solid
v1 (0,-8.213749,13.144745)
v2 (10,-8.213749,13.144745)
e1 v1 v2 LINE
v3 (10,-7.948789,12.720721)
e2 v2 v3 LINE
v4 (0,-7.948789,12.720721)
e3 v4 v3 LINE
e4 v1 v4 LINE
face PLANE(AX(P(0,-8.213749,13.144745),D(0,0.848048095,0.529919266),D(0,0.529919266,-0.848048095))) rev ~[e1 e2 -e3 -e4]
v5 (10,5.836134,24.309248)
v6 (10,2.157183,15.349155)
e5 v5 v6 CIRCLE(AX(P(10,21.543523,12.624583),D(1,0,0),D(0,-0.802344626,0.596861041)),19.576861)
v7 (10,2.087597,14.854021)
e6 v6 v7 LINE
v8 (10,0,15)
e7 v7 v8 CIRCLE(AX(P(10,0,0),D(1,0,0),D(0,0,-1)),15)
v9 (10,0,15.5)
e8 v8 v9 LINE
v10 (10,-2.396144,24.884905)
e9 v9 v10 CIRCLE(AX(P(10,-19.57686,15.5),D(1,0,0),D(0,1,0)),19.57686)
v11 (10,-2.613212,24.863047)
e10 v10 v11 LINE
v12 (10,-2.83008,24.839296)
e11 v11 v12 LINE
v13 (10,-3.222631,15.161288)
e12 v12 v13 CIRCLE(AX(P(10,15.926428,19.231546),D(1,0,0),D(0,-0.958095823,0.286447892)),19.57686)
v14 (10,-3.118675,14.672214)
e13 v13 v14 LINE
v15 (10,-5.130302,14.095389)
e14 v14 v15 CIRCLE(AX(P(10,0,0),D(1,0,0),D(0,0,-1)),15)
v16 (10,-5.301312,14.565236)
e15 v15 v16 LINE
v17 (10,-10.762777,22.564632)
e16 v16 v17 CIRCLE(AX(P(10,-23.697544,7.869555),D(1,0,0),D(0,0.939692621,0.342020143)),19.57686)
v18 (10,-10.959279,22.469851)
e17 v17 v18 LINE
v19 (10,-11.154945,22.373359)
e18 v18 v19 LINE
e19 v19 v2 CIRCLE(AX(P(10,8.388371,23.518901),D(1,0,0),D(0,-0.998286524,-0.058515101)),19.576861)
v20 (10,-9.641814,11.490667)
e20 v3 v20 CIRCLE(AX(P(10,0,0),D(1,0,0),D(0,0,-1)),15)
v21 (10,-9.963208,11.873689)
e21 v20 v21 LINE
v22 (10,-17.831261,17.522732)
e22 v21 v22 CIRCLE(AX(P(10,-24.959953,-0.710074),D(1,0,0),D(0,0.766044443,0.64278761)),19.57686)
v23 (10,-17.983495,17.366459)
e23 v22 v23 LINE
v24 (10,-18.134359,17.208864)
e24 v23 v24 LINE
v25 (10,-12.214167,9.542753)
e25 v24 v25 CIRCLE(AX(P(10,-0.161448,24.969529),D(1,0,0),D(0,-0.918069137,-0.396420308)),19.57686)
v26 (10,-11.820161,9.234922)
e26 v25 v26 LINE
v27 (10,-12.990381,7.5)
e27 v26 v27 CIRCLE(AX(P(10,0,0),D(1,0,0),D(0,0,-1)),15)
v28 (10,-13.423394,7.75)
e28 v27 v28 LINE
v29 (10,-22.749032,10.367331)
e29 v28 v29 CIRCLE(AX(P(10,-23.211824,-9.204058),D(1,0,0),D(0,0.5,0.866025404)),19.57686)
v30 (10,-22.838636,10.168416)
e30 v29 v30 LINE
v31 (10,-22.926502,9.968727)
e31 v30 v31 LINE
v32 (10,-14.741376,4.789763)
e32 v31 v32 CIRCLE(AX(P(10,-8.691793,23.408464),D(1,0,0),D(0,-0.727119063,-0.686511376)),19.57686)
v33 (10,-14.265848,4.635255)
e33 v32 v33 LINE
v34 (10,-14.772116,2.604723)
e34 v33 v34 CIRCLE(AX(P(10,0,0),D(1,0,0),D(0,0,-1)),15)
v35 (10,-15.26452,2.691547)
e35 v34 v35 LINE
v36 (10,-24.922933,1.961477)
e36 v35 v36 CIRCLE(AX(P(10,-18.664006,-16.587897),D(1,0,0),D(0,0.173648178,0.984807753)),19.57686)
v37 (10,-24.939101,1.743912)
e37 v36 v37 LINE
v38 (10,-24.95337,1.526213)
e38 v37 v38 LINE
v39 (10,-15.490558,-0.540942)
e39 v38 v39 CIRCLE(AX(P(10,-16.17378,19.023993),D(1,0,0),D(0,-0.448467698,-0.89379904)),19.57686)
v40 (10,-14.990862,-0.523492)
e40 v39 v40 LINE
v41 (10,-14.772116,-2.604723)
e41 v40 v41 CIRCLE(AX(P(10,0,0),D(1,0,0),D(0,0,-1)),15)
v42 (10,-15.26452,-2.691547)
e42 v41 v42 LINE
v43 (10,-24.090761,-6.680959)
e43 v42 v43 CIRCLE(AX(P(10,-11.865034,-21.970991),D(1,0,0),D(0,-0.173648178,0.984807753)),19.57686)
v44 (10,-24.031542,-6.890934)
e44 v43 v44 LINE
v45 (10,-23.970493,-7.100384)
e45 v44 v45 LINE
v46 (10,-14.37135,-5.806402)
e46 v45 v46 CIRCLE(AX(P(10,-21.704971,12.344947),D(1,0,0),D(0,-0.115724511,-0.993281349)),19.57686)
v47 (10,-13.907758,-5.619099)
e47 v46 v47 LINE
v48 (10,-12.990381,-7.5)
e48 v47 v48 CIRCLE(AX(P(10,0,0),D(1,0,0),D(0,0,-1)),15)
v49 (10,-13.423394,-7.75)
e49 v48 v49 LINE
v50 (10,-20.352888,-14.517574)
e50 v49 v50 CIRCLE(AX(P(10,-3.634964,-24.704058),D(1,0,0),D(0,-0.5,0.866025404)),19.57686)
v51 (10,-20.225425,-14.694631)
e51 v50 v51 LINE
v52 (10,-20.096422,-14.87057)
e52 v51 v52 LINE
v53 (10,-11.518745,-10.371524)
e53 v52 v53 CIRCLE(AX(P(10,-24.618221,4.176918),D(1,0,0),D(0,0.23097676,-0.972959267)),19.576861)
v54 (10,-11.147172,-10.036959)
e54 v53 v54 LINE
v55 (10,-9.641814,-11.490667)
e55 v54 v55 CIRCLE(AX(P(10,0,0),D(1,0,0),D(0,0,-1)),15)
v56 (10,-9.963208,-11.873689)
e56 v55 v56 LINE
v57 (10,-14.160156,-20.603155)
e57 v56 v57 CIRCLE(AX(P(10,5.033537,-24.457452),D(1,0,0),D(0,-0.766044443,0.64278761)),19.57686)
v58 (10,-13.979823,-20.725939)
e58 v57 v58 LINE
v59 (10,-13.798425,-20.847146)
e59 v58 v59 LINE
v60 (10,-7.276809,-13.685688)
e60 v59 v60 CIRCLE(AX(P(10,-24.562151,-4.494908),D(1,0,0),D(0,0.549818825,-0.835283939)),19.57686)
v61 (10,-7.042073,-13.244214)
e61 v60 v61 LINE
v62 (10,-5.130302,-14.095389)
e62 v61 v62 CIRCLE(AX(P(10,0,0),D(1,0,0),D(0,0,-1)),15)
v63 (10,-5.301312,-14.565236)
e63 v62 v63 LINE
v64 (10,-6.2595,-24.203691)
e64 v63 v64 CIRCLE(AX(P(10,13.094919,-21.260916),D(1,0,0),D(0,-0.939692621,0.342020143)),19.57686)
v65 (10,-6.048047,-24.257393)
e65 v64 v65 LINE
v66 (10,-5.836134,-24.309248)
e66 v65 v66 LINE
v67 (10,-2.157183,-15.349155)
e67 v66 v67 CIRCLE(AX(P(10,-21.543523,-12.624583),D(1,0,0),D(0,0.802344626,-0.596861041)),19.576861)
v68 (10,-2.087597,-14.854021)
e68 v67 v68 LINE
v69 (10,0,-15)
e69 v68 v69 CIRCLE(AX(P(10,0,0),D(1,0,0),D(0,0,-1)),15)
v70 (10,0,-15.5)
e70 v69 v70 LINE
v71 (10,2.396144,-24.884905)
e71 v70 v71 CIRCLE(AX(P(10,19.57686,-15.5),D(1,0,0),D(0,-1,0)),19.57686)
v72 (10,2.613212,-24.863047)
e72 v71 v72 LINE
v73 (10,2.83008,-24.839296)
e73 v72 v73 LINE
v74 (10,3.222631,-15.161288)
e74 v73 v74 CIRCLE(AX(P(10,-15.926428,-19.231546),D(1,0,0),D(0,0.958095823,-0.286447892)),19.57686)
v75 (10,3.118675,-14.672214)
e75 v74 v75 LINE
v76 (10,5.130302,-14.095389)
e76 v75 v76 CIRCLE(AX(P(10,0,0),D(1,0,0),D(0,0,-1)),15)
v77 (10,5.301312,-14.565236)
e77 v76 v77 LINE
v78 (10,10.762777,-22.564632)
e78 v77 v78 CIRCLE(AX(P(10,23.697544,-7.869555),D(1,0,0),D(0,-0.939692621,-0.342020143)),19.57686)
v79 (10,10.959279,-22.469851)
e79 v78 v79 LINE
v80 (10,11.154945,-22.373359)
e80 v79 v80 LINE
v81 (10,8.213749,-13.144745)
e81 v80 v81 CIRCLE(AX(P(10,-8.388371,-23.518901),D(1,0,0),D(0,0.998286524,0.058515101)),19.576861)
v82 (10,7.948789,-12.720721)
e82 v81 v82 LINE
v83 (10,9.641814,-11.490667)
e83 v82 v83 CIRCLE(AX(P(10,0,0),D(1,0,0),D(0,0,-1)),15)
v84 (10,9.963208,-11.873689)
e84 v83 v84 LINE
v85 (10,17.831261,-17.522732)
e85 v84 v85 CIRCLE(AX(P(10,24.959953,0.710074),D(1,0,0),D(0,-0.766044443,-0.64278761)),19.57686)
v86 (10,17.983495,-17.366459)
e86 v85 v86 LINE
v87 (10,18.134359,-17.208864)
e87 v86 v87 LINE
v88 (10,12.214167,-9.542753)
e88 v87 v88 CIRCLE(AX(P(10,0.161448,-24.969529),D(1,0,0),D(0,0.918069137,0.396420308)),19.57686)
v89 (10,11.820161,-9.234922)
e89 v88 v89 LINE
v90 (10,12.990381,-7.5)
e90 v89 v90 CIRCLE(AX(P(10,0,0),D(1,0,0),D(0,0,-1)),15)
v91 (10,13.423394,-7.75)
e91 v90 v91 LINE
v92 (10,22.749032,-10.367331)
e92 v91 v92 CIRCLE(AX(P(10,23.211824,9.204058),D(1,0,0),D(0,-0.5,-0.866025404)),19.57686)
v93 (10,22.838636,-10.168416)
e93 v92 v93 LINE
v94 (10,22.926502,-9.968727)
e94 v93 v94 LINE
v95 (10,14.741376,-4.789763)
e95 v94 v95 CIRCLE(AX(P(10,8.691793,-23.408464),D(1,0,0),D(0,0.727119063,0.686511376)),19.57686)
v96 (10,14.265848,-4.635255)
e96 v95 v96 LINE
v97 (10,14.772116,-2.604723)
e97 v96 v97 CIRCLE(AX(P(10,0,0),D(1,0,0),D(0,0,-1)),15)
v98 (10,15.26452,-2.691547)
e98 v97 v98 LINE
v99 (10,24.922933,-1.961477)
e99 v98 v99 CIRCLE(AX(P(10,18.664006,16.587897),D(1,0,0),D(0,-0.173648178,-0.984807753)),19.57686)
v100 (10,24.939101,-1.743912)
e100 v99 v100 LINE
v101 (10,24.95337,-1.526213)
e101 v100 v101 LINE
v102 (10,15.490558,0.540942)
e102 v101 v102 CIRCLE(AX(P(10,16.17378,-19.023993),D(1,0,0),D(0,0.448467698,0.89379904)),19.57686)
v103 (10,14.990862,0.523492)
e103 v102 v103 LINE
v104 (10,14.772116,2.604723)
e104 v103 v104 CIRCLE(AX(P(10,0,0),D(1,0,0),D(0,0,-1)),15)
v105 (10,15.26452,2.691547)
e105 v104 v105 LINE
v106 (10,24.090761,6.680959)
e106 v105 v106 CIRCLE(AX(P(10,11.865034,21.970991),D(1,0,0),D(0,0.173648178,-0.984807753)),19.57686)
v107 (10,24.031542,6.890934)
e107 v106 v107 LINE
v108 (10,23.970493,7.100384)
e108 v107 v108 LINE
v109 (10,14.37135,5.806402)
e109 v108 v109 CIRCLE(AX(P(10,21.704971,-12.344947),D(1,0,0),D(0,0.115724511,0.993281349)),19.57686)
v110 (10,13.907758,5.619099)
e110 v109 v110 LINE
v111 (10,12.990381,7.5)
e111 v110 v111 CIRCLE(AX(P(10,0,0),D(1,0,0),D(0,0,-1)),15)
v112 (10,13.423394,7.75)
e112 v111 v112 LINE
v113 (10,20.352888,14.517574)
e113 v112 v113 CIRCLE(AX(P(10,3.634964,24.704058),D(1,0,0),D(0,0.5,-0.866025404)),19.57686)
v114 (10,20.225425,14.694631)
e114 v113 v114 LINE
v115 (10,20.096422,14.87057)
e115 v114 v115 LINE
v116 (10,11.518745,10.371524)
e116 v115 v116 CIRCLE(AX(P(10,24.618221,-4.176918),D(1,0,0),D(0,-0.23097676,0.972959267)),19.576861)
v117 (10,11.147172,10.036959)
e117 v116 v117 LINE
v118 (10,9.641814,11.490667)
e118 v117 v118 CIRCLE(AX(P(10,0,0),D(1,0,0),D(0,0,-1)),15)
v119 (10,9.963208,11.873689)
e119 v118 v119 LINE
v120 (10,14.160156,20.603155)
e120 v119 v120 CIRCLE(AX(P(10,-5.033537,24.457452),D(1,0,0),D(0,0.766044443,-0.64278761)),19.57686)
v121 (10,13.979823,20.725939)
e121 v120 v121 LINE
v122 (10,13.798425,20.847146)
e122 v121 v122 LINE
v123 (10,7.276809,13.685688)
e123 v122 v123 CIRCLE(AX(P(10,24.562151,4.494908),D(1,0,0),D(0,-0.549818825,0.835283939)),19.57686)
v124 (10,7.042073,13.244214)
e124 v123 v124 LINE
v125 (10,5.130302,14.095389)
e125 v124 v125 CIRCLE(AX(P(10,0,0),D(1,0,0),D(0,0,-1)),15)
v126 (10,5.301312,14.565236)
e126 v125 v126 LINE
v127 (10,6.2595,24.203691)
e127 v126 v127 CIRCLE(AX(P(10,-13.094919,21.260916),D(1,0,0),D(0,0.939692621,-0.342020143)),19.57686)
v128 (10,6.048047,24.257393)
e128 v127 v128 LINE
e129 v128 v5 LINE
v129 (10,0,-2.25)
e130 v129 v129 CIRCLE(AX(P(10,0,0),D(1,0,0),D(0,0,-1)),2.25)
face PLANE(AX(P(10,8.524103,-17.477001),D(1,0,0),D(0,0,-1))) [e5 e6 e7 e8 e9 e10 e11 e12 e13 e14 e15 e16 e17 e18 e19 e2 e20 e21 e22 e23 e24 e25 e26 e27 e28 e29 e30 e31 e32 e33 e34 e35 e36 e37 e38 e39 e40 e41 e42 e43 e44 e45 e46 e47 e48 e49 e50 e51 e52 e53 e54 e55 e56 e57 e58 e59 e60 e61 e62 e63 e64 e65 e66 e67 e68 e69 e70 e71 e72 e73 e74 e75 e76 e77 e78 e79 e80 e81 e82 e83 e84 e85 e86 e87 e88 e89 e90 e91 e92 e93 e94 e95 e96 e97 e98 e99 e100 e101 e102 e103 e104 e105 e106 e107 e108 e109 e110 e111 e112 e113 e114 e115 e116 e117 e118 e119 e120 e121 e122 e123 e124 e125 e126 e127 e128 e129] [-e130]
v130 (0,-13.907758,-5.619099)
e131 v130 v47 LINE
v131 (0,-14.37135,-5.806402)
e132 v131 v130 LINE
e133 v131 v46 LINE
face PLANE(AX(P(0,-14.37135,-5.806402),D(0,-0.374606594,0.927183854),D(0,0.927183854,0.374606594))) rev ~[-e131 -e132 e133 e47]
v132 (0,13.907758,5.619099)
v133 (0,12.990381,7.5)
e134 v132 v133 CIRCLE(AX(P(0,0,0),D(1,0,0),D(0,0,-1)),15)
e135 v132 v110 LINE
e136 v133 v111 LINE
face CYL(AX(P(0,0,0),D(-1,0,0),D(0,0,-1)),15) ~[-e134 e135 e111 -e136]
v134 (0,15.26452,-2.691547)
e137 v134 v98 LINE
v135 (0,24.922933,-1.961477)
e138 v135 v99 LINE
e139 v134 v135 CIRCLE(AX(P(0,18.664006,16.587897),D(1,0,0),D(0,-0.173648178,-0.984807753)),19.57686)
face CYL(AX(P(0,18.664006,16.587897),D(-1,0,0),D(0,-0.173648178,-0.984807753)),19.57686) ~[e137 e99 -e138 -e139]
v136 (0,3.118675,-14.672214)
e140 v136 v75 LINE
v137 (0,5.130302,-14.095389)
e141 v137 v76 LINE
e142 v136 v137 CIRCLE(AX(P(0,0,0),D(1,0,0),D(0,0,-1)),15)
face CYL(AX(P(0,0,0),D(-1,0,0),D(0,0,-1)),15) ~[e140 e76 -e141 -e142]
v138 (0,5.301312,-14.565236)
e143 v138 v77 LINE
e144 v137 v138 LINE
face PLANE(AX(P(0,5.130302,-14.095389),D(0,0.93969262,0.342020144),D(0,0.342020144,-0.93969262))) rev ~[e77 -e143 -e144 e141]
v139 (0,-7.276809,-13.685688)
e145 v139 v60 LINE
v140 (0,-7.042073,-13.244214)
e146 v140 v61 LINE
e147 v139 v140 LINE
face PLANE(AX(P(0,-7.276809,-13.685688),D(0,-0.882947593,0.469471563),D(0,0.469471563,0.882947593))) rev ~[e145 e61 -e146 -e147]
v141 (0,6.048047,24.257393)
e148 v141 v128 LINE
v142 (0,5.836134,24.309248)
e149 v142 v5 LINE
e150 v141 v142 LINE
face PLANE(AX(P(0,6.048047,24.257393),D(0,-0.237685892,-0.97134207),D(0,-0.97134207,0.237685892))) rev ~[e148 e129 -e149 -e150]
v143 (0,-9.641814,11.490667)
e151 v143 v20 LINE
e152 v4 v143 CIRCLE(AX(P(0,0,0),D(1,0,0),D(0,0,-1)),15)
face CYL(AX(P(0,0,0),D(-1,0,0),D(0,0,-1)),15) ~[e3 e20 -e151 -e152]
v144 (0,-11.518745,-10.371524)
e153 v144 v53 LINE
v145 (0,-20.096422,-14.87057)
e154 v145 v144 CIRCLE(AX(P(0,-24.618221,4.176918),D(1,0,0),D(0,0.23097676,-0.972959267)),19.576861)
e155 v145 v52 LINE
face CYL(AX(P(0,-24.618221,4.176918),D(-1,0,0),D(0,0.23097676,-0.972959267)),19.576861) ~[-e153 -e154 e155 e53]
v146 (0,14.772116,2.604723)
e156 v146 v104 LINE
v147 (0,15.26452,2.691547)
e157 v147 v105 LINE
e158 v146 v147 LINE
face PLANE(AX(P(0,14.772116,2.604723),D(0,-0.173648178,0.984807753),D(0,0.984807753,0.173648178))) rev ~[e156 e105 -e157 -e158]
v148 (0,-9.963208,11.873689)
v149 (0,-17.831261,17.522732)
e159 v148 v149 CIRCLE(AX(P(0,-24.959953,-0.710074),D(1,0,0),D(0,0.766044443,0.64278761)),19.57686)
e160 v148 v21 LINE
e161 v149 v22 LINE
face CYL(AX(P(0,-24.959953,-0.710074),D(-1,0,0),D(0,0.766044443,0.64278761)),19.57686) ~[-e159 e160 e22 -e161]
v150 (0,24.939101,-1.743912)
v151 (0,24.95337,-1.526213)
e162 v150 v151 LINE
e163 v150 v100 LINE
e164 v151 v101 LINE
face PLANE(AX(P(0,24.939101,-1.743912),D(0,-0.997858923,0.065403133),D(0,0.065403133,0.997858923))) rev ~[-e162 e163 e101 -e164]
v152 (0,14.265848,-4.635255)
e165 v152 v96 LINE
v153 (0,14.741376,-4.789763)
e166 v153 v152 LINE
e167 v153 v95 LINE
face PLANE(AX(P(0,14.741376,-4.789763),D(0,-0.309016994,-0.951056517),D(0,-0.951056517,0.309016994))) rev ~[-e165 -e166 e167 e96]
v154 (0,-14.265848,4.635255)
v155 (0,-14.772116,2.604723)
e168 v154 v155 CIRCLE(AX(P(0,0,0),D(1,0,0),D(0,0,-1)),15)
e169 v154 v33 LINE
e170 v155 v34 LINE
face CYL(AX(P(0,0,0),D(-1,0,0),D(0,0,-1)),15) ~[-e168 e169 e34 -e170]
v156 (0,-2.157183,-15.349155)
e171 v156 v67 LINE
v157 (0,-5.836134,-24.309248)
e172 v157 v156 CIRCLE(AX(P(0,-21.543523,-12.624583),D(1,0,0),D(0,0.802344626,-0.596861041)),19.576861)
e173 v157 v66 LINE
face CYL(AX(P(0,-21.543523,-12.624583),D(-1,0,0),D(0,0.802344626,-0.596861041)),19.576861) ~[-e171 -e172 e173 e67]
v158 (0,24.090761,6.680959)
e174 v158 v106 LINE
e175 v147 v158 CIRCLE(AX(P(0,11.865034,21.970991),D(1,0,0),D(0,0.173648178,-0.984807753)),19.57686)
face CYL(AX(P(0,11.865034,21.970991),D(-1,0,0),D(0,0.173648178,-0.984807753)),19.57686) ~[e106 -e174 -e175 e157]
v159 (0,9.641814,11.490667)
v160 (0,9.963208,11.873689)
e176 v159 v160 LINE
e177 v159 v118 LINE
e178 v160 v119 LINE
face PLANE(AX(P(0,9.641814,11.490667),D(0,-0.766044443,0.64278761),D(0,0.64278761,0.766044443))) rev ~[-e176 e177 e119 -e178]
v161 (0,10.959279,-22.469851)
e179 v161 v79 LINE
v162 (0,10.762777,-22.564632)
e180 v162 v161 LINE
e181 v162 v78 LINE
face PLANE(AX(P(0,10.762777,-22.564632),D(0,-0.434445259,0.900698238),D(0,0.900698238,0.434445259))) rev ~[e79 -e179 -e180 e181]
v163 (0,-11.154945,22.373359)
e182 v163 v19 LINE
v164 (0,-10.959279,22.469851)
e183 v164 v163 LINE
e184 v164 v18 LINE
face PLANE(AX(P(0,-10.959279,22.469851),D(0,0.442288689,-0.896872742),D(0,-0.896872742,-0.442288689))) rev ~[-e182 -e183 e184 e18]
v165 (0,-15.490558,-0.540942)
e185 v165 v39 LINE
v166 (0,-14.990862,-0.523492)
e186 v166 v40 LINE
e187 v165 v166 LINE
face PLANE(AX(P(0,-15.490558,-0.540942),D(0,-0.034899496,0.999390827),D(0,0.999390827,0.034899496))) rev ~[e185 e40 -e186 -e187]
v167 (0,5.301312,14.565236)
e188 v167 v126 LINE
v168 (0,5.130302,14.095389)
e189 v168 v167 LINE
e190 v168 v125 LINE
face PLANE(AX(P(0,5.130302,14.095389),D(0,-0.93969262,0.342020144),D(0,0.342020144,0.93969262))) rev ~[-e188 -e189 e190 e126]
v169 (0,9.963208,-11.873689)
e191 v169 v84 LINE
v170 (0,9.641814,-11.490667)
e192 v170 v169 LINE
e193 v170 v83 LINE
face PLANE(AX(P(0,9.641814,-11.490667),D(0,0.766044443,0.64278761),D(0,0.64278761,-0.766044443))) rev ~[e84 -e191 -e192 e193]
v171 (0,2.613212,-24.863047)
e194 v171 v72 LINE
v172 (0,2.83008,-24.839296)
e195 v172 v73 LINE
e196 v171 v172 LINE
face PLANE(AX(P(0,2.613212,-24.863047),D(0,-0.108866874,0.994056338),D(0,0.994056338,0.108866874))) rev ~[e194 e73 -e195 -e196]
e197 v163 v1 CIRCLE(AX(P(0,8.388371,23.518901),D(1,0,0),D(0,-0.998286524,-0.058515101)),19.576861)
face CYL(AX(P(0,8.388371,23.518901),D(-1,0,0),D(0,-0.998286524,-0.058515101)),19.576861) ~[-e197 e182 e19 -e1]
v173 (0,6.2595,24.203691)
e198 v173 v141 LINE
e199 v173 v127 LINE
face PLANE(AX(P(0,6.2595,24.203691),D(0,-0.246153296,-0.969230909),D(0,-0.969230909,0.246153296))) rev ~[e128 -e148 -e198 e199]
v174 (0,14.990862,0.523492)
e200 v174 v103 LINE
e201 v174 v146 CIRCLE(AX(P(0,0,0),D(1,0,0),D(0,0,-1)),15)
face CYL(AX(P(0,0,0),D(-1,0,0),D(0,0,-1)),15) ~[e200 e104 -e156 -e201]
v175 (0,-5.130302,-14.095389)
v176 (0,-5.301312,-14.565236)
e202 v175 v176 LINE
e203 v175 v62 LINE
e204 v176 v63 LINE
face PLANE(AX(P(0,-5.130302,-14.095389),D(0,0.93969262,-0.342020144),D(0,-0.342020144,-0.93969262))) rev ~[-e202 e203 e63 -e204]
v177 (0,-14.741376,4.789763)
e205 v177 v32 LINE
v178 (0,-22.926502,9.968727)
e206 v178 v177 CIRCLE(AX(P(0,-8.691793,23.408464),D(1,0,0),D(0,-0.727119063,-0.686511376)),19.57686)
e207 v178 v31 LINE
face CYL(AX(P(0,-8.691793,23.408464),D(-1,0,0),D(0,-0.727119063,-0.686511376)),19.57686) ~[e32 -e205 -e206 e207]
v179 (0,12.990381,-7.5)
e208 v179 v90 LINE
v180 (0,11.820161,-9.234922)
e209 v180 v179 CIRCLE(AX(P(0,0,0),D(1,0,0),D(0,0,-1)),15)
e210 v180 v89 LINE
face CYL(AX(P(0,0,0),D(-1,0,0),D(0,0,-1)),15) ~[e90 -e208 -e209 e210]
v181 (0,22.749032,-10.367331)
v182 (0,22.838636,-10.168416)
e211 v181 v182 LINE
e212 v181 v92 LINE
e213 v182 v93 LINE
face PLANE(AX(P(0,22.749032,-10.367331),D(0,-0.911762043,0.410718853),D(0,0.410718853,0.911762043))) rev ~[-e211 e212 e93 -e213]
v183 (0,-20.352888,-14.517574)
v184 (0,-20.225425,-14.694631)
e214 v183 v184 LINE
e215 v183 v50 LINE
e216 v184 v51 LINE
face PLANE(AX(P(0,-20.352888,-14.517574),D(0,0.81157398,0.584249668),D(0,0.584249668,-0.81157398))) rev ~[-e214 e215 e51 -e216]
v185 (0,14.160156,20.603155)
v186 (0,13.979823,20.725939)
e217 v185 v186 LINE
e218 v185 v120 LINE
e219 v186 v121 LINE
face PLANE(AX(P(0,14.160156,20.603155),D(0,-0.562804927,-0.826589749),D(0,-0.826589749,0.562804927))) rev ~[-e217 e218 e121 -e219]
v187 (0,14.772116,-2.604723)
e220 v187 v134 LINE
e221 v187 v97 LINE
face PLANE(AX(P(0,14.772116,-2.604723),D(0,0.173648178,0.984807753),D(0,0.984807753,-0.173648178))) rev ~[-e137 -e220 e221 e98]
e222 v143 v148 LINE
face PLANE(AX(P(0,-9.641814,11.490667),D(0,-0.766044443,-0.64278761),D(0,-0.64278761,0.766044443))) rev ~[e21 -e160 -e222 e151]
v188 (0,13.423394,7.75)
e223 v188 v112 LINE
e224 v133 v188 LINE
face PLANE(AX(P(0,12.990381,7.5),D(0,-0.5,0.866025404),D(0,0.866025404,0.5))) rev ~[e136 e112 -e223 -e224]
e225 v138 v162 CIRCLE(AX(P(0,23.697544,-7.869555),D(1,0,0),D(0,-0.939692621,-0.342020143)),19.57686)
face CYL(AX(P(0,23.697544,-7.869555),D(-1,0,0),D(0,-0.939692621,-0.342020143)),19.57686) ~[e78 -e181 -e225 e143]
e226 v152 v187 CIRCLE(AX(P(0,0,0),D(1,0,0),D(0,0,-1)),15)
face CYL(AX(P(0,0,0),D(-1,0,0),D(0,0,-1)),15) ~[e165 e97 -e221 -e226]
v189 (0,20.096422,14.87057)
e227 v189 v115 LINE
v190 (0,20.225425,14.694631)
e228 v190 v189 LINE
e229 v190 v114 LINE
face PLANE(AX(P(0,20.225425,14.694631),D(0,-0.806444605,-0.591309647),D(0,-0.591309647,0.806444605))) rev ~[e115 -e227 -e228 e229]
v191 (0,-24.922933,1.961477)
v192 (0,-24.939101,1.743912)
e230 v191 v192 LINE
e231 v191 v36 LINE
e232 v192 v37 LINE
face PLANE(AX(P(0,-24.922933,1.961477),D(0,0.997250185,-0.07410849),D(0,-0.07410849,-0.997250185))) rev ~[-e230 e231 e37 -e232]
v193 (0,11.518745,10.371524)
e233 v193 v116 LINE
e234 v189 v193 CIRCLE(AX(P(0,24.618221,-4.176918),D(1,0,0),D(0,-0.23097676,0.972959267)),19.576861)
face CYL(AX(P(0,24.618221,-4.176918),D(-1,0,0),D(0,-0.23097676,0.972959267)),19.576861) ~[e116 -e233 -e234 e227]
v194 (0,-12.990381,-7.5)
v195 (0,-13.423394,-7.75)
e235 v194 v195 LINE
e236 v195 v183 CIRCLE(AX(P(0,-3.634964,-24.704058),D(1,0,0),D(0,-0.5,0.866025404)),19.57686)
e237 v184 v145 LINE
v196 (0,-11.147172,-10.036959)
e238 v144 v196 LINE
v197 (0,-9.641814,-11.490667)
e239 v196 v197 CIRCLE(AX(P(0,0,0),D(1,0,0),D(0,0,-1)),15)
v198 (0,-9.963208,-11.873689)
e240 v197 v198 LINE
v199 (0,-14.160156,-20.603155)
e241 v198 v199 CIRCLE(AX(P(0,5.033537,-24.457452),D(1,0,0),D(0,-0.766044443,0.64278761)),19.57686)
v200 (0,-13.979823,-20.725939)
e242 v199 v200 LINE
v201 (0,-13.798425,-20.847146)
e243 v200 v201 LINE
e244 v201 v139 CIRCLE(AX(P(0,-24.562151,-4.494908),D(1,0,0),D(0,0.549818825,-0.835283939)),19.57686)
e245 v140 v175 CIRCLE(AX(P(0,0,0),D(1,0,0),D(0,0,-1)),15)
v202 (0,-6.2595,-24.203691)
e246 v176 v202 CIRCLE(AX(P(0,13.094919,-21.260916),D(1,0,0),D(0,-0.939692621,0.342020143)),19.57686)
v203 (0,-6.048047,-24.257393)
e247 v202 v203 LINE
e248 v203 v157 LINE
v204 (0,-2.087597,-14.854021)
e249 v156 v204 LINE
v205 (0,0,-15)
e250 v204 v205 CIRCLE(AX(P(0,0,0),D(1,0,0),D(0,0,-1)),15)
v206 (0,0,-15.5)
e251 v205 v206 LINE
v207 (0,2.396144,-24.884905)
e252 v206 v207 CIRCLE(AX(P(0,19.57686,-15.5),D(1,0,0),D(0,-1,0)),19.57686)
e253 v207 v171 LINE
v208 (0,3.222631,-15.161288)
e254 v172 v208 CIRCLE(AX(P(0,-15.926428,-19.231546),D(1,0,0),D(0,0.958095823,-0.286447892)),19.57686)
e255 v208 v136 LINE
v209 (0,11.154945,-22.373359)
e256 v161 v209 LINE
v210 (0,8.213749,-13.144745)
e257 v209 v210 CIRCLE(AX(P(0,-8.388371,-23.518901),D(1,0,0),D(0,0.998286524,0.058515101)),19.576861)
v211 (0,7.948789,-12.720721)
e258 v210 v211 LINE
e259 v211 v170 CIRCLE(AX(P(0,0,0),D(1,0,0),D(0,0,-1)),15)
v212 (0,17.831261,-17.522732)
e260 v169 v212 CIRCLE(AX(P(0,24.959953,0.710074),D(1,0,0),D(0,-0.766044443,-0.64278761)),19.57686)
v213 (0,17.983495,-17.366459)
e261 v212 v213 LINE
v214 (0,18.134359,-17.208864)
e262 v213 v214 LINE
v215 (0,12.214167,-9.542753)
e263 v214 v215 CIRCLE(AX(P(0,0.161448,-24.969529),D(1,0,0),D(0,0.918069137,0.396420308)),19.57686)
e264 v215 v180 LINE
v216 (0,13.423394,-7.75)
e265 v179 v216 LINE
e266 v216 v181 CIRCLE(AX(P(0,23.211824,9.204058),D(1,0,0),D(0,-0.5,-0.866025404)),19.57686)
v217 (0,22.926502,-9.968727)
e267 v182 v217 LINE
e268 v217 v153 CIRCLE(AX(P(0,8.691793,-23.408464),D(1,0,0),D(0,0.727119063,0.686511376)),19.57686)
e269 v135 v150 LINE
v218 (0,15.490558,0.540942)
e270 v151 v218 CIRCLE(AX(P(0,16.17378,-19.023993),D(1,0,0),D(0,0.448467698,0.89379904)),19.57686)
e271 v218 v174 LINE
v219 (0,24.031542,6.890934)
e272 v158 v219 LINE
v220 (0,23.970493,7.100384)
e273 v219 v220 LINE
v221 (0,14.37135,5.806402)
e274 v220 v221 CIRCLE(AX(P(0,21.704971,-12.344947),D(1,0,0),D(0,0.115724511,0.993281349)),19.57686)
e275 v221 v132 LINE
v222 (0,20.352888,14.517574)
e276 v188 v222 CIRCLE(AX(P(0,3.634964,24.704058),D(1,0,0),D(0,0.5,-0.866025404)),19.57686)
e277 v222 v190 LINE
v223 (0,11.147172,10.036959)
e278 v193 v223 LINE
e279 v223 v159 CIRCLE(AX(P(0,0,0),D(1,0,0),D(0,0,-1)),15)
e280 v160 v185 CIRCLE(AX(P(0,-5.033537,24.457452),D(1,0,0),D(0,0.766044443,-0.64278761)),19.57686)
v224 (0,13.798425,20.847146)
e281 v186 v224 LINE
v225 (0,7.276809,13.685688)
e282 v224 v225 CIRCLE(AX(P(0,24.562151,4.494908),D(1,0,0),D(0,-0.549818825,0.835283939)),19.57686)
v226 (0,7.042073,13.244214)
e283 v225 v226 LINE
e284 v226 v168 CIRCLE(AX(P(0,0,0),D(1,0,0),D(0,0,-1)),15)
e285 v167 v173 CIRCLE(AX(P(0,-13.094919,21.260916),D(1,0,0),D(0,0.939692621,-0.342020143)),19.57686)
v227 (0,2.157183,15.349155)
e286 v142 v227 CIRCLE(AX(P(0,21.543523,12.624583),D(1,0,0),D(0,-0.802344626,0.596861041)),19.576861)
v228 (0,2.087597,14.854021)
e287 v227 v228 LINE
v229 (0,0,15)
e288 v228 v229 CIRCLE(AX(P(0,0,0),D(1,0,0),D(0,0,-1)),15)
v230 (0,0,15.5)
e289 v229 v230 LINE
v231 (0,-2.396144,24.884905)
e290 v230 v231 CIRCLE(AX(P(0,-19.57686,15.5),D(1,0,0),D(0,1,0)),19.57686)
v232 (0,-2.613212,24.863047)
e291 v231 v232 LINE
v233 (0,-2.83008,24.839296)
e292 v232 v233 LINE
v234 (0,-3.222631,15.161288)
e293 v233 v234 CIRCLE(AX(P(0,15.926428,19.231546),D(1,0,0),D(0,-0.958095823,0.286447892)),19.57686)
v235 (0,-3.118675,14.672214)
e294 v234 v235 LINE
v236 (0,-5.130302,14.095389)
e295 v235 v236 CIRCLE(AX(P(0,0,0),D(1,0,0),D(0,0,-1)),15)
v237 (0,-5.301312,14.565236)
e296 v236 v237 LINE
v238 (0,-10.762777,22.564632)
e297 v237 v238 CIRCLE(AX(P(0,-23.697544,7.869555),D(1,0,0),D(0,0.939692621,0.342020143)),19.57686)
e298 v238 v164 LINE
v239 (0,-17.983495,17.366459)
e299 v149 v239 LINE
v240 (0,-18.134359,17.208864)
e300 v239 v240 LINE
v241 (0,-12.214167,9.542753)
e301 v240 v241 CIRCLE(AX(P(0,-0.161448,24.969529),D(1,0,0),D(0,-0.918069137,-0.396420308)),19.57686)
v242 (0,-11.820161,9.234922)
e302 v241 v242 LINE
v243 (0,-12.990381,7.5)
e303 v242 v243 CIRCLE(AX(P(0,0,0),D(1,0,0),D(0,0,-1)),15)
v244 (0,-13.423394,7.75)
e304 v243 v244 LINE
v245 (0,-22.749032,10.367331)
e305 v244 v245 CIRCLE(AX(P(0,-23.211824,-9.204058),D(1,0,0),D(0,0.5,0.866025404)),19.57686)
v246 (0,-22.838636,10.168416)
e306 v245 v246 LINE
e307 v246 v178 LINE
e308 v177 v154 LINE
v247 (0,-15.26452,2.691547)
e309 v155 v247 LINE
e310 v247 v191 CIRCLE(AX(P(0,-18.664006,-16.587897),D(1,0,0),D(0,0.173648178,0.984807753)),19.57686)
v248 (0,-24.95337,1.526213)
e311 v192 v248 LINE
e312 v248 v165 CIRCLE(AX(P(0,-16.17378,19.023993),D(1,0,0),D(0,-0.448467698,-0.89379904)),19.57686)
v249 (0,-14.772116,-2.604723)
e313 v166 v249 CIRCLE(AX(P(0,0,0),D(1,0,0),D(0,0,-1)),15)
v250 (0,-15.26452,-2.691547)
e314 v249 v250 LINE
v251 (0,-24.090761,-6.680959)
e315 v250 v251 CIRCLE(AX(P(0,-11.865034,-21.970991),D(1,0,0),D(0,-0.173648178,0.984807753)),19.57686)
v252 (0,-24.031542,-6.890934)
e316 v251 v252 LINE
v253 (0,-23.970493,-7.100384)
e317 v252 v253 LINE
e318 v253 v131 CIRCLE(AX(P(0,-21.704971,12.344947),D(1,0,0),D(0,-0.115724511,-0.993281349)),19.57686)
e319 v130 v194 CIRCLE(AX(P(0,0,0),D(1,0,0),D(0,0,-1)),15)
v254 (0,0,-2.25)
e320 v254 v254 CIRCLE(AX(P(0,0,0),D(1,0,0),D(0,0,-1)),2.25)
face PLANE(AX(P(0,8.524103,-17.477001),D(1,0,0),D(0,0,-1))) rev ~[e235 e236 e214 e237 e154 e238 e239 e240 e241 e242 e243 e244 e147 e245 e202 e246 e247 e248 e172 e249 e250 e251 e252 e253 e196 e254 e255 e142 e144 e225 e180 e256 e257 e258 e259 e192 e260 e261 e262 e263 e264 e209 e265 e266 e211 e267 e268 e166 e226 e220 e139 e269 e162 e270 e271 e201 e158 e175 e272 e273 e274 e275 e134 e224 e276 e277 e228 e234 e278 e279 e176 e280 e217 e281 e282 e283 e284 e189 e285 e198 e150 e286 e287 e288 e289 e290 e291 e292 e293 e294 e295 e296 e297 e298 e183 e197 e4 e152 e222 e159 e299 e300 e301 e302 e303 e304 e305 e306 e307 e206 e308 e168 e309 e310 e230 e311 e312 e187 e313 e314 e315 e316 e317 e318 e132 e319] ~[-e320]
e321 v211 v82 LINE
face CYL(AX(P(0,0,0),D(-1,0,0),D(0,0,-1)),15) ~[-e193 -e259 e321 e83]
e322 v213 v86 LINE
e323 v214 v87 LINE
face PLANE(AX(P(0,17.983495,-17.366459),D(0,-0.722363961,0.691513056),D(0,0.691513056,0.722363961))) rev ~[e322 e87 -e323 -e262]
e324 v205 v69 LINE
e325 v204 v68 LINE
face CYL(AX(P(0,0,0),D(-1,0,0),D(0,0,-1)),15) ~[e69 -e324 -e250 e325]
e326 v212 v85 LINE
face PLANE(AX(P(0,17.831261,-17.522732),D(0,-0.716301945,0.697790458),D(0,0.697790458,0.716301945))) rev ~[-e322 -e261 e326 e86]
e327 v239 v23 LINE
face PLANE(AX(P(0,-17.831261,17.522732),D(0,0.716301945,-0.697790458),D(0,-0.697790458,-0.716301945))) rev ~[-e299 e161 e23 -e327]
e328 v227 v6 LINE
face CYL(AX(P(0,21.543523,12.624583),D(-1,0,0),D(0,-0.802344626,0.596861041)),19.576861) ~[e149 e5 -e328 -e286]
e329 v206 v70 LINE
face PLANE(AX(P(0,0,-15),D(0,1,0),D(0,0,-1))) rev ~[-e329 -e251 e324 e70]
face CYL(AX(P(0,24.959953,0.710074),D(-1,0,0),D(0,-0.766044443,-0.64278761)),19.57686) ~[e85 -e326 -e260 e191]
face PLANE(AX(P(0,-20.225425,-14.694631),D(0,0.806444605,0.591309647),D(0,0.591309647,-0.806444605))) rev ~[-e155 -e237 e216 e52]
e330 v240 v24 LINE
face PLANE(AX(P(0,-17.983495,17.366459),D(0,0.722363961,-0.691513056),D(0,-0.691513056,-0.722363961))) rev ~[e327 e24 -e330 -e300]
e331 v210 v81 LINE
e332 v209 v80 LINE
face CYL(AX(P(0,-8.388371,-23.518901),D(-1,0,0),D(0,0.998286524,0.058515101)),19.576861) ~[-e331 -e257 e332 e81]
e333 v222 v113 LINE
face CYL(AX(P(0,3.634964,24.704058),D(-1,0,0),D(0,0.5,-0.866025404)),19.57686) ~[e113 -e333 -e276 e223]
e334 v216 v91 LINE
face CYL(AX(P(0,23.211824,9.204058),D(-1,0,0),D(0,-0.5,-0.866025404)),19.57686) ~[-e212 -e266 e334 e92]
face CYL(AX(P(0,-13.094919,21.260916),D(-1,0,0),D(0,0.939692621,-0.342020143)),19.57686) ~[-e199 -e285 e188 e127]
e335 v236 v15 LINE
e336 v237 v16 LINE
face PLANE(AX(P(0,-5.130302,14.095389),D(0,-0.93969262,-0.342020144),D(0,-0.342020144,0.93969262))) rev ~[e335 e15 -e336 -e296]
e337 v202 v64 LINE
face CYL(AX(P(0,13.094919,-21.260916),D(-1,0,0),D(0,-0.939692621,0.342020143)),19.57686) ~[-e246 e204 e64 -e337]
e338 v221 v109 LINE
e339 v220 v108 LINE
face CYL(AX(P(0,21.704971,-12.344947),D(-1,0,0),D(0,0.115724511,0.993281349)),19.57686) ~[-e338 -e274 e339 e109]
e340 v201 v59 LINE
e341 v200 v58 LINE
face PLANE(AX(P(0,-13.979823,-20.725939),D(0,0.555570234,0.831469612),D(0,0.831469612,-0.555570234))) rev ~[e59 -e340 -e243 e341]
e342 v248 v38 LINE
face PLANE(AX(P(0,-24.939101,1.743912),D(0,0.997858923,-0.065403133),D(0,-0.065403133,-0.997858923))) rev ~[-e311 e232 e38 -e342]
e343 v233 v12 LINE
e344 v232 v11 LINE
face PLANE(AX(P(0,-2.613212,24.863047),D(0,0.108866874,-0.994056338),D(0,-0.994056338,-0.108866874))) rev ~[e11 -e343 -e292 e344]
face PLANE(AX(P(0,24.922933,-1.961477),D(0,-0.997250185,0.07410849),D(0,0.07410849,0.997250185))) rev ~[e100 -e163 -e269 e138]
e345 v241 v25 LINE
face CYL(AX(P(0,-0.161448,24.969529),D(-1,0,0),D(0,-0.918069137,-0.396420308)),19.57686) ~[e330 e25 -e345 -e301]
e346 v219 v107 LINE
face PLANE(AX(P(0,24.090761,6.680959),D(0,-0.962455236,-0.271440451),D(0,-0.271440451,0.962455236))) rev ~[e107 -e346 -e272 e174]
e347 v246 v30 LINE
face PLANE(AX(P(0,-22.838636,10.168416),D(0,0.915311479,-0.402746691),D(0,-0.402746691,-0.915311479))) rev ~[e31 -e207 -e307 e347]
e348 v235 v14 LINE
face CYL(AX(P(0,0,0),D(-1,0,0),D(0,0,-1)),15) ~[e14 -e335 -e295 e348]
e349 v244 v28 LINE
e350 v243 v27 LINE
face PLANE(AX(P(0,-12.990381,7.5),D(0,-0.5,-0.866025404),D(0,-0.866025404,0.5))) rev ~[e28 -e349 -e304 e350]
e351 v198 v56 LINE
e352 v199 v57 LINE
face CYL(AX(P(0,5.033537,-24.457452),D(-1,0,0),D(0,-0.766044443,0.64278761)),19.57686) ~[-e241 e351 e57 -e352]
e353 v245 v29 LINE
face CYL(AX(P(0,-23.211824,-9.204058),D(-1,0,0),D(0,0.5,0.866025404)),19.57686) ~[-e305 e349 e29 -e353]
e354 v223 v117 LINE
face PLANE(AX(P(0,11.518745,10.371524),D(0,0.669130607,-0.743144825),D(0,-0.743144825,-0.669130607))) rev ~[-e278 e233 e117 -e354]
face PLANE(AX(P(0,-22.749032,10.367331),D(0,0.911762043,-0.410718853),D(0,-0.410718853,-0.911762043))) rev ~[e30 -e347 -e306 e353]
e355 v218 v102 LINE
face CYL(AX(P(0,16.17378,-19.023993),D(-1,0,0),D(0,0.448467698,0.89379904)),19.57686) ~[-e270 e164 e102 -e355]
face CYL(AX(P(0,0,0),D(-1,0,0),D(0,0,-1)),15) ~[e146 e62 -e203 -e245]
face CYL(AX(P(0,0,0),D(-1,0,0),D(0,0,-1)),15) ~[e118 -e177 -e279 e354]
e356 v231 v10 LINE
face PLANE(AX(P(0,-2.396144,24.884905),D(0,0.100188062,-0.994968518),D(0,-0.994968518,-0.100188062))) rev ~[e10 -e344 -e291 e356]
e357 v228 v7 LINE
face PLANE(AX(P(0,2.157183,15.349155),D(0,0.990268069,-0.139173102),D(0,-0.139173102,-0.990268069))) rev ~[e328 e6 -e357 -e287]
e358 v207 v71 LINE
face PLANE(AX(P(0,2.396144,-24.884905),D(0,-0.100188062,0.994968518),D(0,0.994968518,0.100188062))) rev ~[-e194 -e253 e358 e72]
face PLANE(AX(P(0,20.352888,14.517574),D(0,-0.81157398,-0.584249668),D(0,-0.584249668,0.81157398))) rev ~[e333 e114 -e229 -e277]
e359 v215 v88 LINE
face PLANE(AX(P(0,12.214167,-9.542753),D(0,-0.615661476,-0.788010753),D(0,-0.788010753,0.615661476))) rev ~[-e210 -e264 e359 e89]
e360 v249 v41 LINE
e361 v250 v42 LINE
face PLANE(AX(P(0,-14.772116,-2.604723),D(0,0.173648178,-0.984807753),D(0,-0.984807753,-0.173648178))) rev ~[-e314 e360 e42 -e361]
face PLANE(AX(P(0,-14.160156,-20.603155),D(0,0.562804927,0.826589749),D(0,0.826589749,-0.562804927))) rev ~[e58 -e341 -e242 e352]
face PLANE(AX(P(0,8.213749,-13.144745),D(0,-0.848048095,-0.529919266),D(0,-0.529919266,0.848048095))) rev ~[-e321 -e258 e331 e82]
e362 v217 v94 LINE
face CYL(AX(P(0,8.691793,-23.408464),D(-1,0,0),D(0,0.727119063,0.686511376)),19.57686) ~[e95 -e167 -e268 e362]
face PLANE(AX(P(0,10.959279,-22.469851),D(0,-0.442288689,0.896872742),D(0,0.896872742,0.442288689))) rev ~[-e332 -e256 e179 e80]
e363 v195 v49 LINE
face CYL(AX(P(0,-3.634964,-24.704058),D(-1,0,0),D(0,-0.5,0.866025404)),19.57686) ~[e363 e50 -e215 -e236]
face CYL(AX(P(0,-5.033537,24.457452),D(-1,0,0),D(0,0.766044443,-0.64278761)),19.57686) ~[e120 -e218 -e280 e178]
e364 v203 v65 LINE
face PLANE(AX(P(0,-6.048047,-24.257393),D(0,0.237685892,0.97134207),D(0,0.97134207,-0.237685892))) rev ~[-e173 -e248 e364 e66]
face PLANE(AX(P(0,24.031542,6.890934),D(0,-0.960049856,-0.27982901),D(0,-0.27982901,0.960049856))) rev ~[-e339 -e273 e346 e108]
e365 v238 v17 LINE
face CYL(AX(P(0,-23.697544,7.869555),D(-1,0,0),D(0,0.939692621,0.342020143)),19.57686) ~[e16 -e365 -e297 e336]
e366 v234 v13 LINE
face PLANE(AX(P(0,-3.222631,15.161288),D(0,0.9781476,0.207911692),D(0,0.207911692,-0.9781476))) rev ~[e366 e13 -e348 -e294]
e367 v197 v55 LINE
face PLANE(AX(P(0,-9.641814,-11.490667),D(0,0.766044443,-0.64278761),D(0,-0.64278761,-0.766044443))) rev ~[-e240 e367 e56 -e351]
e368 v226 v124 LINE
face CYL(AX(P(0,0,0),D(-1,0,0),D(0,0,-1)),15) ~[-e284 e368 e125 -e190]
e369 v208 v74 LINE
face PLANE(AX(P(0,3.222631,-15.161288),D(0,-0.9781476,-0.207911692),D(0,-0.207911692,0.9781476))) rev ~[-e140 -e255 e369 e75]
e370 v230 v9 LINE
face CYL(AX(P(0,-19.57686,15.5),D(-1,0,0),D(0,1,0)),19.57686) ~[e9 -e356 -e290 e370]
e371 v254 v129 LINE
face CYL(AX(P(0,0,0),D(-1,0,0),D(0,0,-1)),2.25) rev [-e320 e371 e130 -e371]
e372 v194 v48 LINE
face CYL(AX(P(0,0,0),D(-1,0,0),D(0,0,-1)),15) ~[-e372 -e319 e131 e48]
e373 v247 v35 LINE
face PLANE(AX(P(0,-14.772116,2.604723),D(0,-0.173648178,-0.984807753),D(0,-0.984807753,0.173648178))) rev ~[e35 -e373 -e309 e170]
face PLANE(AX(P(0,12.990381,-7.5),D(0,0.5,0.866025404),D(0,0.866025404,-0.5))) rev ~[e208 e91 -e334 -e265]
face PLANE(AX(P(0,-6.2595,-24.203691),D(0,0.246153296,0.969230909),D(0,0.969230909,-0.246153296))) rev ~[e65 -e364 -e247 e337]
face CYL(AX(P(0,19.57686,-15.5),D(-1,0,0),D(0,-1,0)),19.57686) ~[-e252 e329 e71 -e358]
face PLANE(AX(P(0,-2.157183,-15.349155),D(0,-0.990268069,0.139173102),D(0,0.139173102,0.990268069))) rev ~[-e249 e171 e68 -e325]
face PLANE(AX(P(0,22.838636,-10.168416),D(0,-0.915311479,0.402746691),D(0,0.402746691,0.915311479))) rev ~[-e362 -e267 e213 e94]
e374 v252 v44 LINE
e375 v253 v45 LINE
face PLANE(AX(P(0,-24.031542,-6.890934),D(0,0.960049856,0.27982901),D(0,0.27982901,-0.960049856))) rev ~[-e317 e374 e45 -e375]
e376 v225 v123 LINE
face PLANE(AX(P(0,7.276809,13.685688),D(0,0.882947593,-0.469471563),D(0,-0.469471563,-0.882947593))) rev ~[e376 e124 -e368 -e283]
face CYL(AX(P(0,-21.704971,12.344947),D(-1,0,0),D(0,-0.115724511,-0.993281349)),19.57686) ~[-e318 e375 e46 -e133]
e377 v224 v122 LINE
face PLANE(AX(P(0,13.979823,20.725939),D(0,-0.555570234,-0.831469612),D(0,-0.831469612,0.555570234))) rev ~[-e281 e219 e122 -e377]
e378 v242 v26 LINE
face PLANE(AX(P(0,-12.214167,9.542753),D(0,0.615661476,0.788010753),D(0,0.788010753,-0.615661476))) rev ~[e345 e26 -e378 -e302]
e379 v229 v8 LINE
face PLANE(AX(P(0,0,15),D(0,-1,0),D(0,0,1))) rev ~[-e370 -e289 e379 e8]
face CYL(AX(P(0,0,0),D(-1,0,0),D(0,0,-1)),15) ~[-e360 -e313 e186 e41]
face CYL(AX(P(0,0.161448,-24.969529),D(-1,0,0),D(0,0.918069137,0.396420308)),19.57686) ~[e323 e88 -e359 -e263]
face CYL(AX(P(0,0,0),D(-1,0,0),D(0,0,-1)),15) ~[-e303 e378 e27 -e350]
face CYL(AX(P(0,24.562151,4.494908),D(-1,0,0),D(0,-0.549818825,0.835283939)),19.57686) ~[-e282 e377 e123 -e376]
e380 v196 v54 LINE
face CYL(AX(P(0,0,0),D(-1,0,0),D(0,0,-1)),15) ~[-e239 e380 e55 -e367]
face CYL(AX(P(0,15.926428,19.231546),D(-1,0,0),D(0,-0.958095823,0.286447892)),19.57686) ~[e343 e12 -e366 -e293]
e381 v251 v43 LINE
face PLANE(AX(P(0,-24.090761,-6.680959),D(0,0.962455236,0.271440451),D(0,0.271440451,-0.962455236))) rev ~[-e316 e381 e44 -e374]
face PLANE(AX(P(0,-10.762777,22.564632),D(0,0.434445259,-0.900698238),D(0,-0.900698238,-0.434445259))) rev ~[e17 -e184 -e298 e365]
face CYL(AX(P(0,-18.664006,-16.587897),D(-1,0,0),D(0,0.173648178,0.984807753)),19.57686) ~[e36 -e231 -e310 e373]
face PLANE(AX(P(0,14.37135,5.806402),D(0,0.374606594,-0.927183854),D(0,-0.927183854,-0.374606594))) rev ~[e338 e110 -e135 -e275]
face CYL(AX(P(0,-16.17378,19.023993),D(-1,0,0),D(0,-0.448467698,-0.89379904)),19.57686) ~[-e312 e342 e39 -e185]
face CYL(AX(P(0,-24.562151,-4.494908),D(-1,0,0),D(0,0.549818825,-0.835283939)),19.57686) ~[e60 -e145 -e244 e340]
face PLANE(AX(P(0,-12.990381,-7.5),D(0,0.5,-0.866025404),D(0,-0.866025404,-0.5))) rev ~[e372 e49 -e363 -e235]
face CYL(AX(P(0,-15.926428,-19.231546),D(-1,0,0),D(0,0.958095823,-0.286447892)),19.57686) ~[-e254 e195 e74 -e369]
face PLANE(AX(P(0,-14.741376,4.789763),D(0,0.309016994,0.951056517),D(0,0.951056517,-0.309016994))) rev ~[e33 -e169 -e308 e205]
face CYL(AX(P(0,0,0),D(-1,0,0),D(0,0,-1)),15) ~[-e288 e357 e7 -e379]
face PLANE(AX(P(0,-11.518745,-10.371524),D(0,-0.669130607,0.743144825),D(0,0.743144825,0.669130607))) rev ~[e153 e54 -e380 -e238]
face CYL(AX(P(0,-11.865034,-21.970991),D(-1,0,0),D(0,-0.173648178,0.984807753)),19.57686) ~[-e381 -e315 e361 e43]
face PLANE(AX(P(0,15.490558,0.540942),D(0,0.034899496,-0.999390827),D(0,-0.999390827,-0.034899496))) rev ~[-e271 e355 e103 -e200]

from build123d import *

# Parameters (mm, degrees)
SKETCH1_R           = 15
SKETCH1_R_2         = 2.25
BOSS_EXTRUDE2_DEPTH = 10


with BuildPart() as part:
    # Sketch1 → Boss-Extrude2 (new body)
    with BuildSketch(Plane(origin=(0, 0, 0), x_dir=(0, 0, -1), z_dir=(1, 0, 0))):
        with BuildLine():
            ThreePointArc((12.720721442, 7.948788963), (13.481910694, 6.575567202), (14.095389312, 5.13030215))
            Line((14.095389312, 5.13030215), (14.565235622, 5.301312222))
            ThreePointArc((14.565235622, 5.301312222), (18.908034497, 7.529506054), (22.564632109, 10.76277742))
            Line((22.564632109, 10.76277742), (22.469851157, 10.95927867))
            Line((22.469851157, 10.95927867), (22.37335904, 11.154945328))
            ThreePointArc((22.37335904, 11.154945328), (17.574280154, 10.264107707), (13.14474549, 8.213748596))
            Line((13.14474549, 8.213748596), (12.720721442, 7.948788963))
        make_face()
        with BuildLine():
            ThreePointArc((9.23492213, 11.820161304), (10.419875557, 10.790097005), (11.490666647, 9.641814145))
            Line((11.490666647, 9.641814145), (11.873688868, 9.96320795))
            ThreePointArc((11.873688868, 9.96320795), (15.19249775, 13.542349946), (17.522731607, 17.831261229))
            Line((17.522731607, 17.831261229), (17.366459261, 17.983495008))
            Line((17.366459261, 17.983495008), (17.208864392, 18.134359275))
            ThreePointArc((17.208864392, 18.134359275), (13.003889787, 15.655864088), (9.542752868, 12.214166681))
            Line((9.542752868, 12.214166681), (9.23492213, 11.820161304))
        make_face()
        with BuildLine():
            ThreePointArc((4.635254916, 14.265847744), (6.101049646, 13.703181865), (7.5, 12.990381057))
            Line((7.5, 12.990381057), (7.75, 13.423393759))
            ThreePointArc((7.75, 13.423393759), (9.644521558, 17.92178657), (10.367331066, 22.749031772))
            Line((10.367331066, 22.749031772), (10.168416077, 22.838636441))
            Line((10.168416077, 22.838636441), (9.968726723, 22.92650186))
            ThreePointArc((9.968726723, 22.92650186), (6.865038395, 19.159292205), (4.789763413, 14.741376003))
            Line((4.789763413, 14.741376003), (4.635254916, 14.265847744))
        make_face()
        with BuildLine():
            ThreePointArc((-0.523492451, 14.990862405), (1.046347106, 14.963460754), (2.604722665, 14.772116295))
            Line((2.604722665, 14.772116295), (2.691546754, 15.264520172))
            ThreePointArc((2.691546754, 15.264520172), (2.933273727, 20.139591237), (1.961477393, 24.922933343))
            Line((1.961477393, 24.922933343), (1.743911844, 24.939101256))
            Line((1.743911844, 24.939101256), (1.526213488, 24.953369961))
            ThreePointArc((1.526213488, 24.953369961), (-0.101837945, 20.35182692), (-0.540942199, 15.490557819))
            Line((-0.540942199, 15.490557819), (-0.523492451, 14.990862405))
        make_face()
        with BuildLine():
            ThreePointArc((-5.619098901, 13.907757819), (-4.134560337, 14.418925439), (-2.604722665, 14.772116295))
            Line((-2.604722665, 14.772116295), (-2.691546754, 15.264520172))
            ThreePointArc((-2.691546754, 15.264520172), (-4.131770205, 19.928263972), (-6.680959402, 24.09076133))
            Line((-6.680959402, 24.09076133), (-6.890933895, 24.031542398))
            Line((-6.890933895, 24.031542398), (-7.100383618, 23.970493372))
            ThreePointArc((-7.100383618, 23.970493372), (-7.056431125, 19.089630948), (-5.806402198, 14.371349746))
            Line((-5.806402198, 14.371349746), (-5.619098901, 13.907757819))
        make_face()
        with BuildLine():
            ThreePointArc((-10.036959095, 11.147172382), (-8.816778784, 12.135254916), (-7.5, 12.990381057))
            Line((-7.5, 12.990381057), (-7.75, 13.423393759))
            ThreePointArc((-7.75, 13.423393759), (-10.698461672, 17.313293962), (-14.517573893, 20.352887959))
            Line((-14.517573893, 20.352887959), (-14.694631307, 20.225424859))
            Line((-14.694631307, 20.225424859), (-14.870569669, 20.096421515))
            ThreePointArc((-14.870569669, 20.096421515), (-13.15991457, 15.524943751), (-10.371524399, 11.518744795))
            Line((-10.371524399, 11.518744795), (-10.036959095, 11.147172382))
        make_face()
        with BuildLine():
            ThreePointArc((-13.244213893, 7.042073442), (-12.435563588, 8.387893552), (-11.490666647, 9.641814145))
            Line((-11.490666647, 9.641814145), (-11.873688868, 9.96320795))
            ThreePointArc((-11.873688868, 9.96320795), (-15.974760769, 12.610085183), (-20.603154716, 14.160155923))
            Line((-20.603154716, 14.160155923), (-20.725939314, 13.979822587))
            Line((-20.725939314, 13.979822587), (-20.847145552, 13.798424633))
            ThreePointArc((-20.847145552, 13.798424633), (-17.676118098, 10.087719213), (-13.685687689, 7.276809223))
            Line((-13.685687689, 7.276809223), (-13.244213893, 7.042073442))
        make_face()
        with BuildLine():
            ThreePointArc((-14.854021031, 2.087596514), (-14.554435894, 3.628828434), (-14.095389312, 5.13030215))
            Line((-14.095389312, 5.13030215), (-14.565235622, 5.301312222))
            ThreePointArc((-14.565235622, 5.301312222), (-19.324267955, 6.385914026), (-24.203691009, 6.259500101))
            Line((-24.203691009, 6.259500101), (-24.257393157, 6.04804739))
            Line((-24.257393157, 6.04804739), (-24.30924801, 5.836134096))
            ThreePointArc((-24.30924801, 5.836134096), (-20.060320912, 3.43376686), (-15.349155065, 2.157183065))
            Line((-15.349155065, 2.157183065), (-14.854021031, 2.087596514))
        make_face()
        with BuildLine():
            Line((-15.161287811, -3.222631208), (-14.672214011, -3.118675362))
            ThreePointArc((-14.672214011, -3.118675362), (-14.917828431, -1.567926949), (-15, 0))
            Line((-15, 0), (-15.5, 0))
            ThreePointArc((-15.5, 0), (-20.34298323, -0.608492609), (-24.884904959, -2.396143813))
            Line((-24.884904959, -2.396143813), (-24.863047384, -2.613211582))
            Line((-24.863047384, -2.613211582), (-24.839296392, -2.830080344))
            ThreePointArc((-24.839296392, -2.830080344), (-20.024952965, -3.634348454), (-15.161287811, -3.222631208))
        make_face()
        with BuildLine():
            Line((-13.14474549, -8.213748596), (-12.720721442, -7.948788963))
            ThreePointArc((-12.720721442, -7.948788963), (-13.481910694, -6.575567202), (-14.095389312, -5.13030215))
            Line((-14.095389312, -5.13030215), (-14.565235622, -5.301312222))
            ThreePointArc((-14.565235622, -5.301312222), (-18.908034497, -7.529506054), (-22.564632109, -10.76277742))
            Line((-22.564632109, -10.76277742), (-22.469851157, -10.95927867))
            Line((-22.469851157, -10.95927867), (-22.37335904, -11.154945328))
            ThreePointArc((-22.37335904, -11.154945328), (-17.574280154, -10.264107707), (-13.14474549, -8.213748596))
        make_face()
        with BuildLine():
            Line((-9.542752868, -12.214166681), (-9.23492213, -11.820161304))
            ThreePointArc((-9.23492213, -11.820161304), (-10.419875557, -10.790097005), (-11.490666647, -9.641814145))
            Line((-11.490666647, -9.641814145), (-11.873688868, -9.96320795))
            ThreePointArc((-11.873688868, -9.96320795), (-15.19249775, -13.542349946), (-17.522731607, -17.831261229))
            Line((-17.522731607, -17.831261229), (-17.366459261, -17.983495008))
            Line((-17.366459261, -17.983495008), (-17.208864392, -18.134359275))
            ThreePointArc((-17.208864392, -18.134359275), (-13.003889787, -15.655864088), (-9.542752868, -12.214166681))
        make_face()
        with BuildLine():
            Line((-4.789763413, -14.741376003), (-4.635254916, -14.265847744))
            ThreePointArc((-4.635254916, -14.265847744), (-6.101049646, -13.703181865), (-7.5, -12.990381057))
            Line((-7.5, -12.990381057), (-7.75, -13.423393759))
            ThreePointArc((-7.75, -13.423393759), (-9.644521558, -17.92178657), (-10.367331066, -22.749031772))
            Line((-10.367331066, -22.749031772), (-10.168416077, -22.838636441))
            Line((-10.168416077, -22.838636441), (-9.968726723, -22.92650186))
            ThreePointArc((-9.968726723, -22.92650186), (-6.865038395, -19.159292205), (-4.789763413, -14.741376003))
        make_face()
        with BuildLine():
            Line((0.540942199, -15.490557819), (0.523492451, -14.990862405))
            ThreePointArc((0.523492451, -14.990862405), (-1.046347106, -14.963460754), (-2.604722665, -14.772116295))
            Line((-2.604722665, -14.772116295), (-2.691546754, -15.264520172))
            ThreePointArc((-2.691546754, -15.264520172), (-2.933273727, -20.139591237), (-1.961477393, -24.922933343))
            Line((-1.961477393, -24.922933343), (-1.743911844, -24.939101256))
            Line((-1.743911844, -24.939101256), (-1.526213488, -24.953369961))
            ThreePointArc((-1.526213488, -24.953369961), (0.101837945, -20.35182692), (0.540942199, -15.490557819))
        make_face()
        with BuildLine():
            Line((5.806402198, -14.371349746), (5.619098901, -13.907757819))
            ThreePointArc((5.619098901, -13.907757819), (4.134560337, -14.418925439), (2.604722665, -14.772116295))
            Line((2.604722665, -14.772116295), (2.691546754, -15.264520172))
            ThreePointArc((2.691546754, -15.264520172), (4.131770205, -19.928263972), (6.680959402, -24.09076133))
            Line((6.680959402, -24.09076133), (6.890933895, -24.031542398))
            Line((6.890933895, -24.031542398), (7.100383618, -23.970493372))
            ThreePointArc((7.100383618, -23.970493372), (7.056431125, -19.089630948), (5.806402198, -14.371349746))
        make_face()
        with BuildLine():
            Line((10.371524399, -11.518744795), (10.036959095, -11.147172382))
            ThreePointArc((10.036959095, -11.147172382), (8.816778784, -12.135254916), (7.5, -12.990381057))
            Line((7.5, -12.990381057), (7.75, -13.423393759))
            ThreePointArc((7.75, -13.423393759), (10.698461672, -17.313293962), (14.517573893, -20.352887959))
            Line((14.517573893, -20.352887959), (14.694631307, -20.225424859))
            Line((14.694631307, -20.225424859), (14.870569669, -20.096421515))
            ThreePointArc((14.870569669, -20.096421515), (13.15991457, -15.524943751), (10.371524399, -11.518744795))
        make_face()
        with BuildLine():
            Line((13.685687689, -7.276809223), (13.244213893, -7.042073442))
            ThreePointArc((13.244213893, -7.042073442), (12.435563588, -8.387893552), (11.490666647, -9.641814145))
            Line((11.490666647, -9.641814145), (11.873688868, -9.96320795))
            ThreePointArc((11.873688868, -9.96320795), (15.974760769, -12.610085183), (20.603154716, -14.160155923))
            Line((20.603154716, -14.160155923), (20.725939314, -13.979822587))
            Line((20.725939314, -13.979822587), (20.847145552, -13.798424633))
            ThreePointArc((20.847145552, -13.798424633), (17.676118098, -10.087719213), (13.685687689, -7.276809223))
        make_face()
        with BuildLine():
            Line((15.349155065, -2.157183065), (14.854021031, -2.087596514))
            ThreePointArc((14.854021031, -2.087596514), (14.554435894, -3.628828434), (14.095389312, -5.13030215))
            Line((14.095389312, -5.13030215), (14.565235622, -5.301312222))
            ThreePointArc((14.565235622, -5.301312222), (19.324267955, -6.385914026), (24.203691009, -6.259500101))
            Line((24.203691009, -6.259500101), (24.257393157, -6.04804739))
            Line((24.257393157, -6.04804739), (24.30924801, -5.836134096))
            ThreePointArc((24.30924801, -5.836134096), (20.060320912, -3.43376686), (15.349155065, -2.157183065))
        make_face()
        with BuildLine():
            ThreePointArc((14.672214011, 3.118675362), (14.917828431, 1.567926949), (15, 0))
            Line((15, 0), (15.5, 0))
            ThreePointArc((15.5, 0), (20.34298323, 0.608492609), (24.884904959, 2.396143813))
            Line((24.884904959, 2.396143813), (24.863047384, 2.613211582))
            Line((24.863047384, 2.613211582), (24.839296392, 2.830080344))
            ThreePointArc((24.839296392, 2.830080344), (20.024952965, 3.634348454), (15.161287811, 3.222631208))
            Line((15.161287811, 3.222631208), (14.672214011, 3.118675362))
        make_face()
        Circle(SKETCH1_R)
        Circle(SKETCH1_R_2, mode=Mode.SUBTRACT)
    extrude(amount=BOSS_EXTRUDE2_DEPTH)


solid = part.part
